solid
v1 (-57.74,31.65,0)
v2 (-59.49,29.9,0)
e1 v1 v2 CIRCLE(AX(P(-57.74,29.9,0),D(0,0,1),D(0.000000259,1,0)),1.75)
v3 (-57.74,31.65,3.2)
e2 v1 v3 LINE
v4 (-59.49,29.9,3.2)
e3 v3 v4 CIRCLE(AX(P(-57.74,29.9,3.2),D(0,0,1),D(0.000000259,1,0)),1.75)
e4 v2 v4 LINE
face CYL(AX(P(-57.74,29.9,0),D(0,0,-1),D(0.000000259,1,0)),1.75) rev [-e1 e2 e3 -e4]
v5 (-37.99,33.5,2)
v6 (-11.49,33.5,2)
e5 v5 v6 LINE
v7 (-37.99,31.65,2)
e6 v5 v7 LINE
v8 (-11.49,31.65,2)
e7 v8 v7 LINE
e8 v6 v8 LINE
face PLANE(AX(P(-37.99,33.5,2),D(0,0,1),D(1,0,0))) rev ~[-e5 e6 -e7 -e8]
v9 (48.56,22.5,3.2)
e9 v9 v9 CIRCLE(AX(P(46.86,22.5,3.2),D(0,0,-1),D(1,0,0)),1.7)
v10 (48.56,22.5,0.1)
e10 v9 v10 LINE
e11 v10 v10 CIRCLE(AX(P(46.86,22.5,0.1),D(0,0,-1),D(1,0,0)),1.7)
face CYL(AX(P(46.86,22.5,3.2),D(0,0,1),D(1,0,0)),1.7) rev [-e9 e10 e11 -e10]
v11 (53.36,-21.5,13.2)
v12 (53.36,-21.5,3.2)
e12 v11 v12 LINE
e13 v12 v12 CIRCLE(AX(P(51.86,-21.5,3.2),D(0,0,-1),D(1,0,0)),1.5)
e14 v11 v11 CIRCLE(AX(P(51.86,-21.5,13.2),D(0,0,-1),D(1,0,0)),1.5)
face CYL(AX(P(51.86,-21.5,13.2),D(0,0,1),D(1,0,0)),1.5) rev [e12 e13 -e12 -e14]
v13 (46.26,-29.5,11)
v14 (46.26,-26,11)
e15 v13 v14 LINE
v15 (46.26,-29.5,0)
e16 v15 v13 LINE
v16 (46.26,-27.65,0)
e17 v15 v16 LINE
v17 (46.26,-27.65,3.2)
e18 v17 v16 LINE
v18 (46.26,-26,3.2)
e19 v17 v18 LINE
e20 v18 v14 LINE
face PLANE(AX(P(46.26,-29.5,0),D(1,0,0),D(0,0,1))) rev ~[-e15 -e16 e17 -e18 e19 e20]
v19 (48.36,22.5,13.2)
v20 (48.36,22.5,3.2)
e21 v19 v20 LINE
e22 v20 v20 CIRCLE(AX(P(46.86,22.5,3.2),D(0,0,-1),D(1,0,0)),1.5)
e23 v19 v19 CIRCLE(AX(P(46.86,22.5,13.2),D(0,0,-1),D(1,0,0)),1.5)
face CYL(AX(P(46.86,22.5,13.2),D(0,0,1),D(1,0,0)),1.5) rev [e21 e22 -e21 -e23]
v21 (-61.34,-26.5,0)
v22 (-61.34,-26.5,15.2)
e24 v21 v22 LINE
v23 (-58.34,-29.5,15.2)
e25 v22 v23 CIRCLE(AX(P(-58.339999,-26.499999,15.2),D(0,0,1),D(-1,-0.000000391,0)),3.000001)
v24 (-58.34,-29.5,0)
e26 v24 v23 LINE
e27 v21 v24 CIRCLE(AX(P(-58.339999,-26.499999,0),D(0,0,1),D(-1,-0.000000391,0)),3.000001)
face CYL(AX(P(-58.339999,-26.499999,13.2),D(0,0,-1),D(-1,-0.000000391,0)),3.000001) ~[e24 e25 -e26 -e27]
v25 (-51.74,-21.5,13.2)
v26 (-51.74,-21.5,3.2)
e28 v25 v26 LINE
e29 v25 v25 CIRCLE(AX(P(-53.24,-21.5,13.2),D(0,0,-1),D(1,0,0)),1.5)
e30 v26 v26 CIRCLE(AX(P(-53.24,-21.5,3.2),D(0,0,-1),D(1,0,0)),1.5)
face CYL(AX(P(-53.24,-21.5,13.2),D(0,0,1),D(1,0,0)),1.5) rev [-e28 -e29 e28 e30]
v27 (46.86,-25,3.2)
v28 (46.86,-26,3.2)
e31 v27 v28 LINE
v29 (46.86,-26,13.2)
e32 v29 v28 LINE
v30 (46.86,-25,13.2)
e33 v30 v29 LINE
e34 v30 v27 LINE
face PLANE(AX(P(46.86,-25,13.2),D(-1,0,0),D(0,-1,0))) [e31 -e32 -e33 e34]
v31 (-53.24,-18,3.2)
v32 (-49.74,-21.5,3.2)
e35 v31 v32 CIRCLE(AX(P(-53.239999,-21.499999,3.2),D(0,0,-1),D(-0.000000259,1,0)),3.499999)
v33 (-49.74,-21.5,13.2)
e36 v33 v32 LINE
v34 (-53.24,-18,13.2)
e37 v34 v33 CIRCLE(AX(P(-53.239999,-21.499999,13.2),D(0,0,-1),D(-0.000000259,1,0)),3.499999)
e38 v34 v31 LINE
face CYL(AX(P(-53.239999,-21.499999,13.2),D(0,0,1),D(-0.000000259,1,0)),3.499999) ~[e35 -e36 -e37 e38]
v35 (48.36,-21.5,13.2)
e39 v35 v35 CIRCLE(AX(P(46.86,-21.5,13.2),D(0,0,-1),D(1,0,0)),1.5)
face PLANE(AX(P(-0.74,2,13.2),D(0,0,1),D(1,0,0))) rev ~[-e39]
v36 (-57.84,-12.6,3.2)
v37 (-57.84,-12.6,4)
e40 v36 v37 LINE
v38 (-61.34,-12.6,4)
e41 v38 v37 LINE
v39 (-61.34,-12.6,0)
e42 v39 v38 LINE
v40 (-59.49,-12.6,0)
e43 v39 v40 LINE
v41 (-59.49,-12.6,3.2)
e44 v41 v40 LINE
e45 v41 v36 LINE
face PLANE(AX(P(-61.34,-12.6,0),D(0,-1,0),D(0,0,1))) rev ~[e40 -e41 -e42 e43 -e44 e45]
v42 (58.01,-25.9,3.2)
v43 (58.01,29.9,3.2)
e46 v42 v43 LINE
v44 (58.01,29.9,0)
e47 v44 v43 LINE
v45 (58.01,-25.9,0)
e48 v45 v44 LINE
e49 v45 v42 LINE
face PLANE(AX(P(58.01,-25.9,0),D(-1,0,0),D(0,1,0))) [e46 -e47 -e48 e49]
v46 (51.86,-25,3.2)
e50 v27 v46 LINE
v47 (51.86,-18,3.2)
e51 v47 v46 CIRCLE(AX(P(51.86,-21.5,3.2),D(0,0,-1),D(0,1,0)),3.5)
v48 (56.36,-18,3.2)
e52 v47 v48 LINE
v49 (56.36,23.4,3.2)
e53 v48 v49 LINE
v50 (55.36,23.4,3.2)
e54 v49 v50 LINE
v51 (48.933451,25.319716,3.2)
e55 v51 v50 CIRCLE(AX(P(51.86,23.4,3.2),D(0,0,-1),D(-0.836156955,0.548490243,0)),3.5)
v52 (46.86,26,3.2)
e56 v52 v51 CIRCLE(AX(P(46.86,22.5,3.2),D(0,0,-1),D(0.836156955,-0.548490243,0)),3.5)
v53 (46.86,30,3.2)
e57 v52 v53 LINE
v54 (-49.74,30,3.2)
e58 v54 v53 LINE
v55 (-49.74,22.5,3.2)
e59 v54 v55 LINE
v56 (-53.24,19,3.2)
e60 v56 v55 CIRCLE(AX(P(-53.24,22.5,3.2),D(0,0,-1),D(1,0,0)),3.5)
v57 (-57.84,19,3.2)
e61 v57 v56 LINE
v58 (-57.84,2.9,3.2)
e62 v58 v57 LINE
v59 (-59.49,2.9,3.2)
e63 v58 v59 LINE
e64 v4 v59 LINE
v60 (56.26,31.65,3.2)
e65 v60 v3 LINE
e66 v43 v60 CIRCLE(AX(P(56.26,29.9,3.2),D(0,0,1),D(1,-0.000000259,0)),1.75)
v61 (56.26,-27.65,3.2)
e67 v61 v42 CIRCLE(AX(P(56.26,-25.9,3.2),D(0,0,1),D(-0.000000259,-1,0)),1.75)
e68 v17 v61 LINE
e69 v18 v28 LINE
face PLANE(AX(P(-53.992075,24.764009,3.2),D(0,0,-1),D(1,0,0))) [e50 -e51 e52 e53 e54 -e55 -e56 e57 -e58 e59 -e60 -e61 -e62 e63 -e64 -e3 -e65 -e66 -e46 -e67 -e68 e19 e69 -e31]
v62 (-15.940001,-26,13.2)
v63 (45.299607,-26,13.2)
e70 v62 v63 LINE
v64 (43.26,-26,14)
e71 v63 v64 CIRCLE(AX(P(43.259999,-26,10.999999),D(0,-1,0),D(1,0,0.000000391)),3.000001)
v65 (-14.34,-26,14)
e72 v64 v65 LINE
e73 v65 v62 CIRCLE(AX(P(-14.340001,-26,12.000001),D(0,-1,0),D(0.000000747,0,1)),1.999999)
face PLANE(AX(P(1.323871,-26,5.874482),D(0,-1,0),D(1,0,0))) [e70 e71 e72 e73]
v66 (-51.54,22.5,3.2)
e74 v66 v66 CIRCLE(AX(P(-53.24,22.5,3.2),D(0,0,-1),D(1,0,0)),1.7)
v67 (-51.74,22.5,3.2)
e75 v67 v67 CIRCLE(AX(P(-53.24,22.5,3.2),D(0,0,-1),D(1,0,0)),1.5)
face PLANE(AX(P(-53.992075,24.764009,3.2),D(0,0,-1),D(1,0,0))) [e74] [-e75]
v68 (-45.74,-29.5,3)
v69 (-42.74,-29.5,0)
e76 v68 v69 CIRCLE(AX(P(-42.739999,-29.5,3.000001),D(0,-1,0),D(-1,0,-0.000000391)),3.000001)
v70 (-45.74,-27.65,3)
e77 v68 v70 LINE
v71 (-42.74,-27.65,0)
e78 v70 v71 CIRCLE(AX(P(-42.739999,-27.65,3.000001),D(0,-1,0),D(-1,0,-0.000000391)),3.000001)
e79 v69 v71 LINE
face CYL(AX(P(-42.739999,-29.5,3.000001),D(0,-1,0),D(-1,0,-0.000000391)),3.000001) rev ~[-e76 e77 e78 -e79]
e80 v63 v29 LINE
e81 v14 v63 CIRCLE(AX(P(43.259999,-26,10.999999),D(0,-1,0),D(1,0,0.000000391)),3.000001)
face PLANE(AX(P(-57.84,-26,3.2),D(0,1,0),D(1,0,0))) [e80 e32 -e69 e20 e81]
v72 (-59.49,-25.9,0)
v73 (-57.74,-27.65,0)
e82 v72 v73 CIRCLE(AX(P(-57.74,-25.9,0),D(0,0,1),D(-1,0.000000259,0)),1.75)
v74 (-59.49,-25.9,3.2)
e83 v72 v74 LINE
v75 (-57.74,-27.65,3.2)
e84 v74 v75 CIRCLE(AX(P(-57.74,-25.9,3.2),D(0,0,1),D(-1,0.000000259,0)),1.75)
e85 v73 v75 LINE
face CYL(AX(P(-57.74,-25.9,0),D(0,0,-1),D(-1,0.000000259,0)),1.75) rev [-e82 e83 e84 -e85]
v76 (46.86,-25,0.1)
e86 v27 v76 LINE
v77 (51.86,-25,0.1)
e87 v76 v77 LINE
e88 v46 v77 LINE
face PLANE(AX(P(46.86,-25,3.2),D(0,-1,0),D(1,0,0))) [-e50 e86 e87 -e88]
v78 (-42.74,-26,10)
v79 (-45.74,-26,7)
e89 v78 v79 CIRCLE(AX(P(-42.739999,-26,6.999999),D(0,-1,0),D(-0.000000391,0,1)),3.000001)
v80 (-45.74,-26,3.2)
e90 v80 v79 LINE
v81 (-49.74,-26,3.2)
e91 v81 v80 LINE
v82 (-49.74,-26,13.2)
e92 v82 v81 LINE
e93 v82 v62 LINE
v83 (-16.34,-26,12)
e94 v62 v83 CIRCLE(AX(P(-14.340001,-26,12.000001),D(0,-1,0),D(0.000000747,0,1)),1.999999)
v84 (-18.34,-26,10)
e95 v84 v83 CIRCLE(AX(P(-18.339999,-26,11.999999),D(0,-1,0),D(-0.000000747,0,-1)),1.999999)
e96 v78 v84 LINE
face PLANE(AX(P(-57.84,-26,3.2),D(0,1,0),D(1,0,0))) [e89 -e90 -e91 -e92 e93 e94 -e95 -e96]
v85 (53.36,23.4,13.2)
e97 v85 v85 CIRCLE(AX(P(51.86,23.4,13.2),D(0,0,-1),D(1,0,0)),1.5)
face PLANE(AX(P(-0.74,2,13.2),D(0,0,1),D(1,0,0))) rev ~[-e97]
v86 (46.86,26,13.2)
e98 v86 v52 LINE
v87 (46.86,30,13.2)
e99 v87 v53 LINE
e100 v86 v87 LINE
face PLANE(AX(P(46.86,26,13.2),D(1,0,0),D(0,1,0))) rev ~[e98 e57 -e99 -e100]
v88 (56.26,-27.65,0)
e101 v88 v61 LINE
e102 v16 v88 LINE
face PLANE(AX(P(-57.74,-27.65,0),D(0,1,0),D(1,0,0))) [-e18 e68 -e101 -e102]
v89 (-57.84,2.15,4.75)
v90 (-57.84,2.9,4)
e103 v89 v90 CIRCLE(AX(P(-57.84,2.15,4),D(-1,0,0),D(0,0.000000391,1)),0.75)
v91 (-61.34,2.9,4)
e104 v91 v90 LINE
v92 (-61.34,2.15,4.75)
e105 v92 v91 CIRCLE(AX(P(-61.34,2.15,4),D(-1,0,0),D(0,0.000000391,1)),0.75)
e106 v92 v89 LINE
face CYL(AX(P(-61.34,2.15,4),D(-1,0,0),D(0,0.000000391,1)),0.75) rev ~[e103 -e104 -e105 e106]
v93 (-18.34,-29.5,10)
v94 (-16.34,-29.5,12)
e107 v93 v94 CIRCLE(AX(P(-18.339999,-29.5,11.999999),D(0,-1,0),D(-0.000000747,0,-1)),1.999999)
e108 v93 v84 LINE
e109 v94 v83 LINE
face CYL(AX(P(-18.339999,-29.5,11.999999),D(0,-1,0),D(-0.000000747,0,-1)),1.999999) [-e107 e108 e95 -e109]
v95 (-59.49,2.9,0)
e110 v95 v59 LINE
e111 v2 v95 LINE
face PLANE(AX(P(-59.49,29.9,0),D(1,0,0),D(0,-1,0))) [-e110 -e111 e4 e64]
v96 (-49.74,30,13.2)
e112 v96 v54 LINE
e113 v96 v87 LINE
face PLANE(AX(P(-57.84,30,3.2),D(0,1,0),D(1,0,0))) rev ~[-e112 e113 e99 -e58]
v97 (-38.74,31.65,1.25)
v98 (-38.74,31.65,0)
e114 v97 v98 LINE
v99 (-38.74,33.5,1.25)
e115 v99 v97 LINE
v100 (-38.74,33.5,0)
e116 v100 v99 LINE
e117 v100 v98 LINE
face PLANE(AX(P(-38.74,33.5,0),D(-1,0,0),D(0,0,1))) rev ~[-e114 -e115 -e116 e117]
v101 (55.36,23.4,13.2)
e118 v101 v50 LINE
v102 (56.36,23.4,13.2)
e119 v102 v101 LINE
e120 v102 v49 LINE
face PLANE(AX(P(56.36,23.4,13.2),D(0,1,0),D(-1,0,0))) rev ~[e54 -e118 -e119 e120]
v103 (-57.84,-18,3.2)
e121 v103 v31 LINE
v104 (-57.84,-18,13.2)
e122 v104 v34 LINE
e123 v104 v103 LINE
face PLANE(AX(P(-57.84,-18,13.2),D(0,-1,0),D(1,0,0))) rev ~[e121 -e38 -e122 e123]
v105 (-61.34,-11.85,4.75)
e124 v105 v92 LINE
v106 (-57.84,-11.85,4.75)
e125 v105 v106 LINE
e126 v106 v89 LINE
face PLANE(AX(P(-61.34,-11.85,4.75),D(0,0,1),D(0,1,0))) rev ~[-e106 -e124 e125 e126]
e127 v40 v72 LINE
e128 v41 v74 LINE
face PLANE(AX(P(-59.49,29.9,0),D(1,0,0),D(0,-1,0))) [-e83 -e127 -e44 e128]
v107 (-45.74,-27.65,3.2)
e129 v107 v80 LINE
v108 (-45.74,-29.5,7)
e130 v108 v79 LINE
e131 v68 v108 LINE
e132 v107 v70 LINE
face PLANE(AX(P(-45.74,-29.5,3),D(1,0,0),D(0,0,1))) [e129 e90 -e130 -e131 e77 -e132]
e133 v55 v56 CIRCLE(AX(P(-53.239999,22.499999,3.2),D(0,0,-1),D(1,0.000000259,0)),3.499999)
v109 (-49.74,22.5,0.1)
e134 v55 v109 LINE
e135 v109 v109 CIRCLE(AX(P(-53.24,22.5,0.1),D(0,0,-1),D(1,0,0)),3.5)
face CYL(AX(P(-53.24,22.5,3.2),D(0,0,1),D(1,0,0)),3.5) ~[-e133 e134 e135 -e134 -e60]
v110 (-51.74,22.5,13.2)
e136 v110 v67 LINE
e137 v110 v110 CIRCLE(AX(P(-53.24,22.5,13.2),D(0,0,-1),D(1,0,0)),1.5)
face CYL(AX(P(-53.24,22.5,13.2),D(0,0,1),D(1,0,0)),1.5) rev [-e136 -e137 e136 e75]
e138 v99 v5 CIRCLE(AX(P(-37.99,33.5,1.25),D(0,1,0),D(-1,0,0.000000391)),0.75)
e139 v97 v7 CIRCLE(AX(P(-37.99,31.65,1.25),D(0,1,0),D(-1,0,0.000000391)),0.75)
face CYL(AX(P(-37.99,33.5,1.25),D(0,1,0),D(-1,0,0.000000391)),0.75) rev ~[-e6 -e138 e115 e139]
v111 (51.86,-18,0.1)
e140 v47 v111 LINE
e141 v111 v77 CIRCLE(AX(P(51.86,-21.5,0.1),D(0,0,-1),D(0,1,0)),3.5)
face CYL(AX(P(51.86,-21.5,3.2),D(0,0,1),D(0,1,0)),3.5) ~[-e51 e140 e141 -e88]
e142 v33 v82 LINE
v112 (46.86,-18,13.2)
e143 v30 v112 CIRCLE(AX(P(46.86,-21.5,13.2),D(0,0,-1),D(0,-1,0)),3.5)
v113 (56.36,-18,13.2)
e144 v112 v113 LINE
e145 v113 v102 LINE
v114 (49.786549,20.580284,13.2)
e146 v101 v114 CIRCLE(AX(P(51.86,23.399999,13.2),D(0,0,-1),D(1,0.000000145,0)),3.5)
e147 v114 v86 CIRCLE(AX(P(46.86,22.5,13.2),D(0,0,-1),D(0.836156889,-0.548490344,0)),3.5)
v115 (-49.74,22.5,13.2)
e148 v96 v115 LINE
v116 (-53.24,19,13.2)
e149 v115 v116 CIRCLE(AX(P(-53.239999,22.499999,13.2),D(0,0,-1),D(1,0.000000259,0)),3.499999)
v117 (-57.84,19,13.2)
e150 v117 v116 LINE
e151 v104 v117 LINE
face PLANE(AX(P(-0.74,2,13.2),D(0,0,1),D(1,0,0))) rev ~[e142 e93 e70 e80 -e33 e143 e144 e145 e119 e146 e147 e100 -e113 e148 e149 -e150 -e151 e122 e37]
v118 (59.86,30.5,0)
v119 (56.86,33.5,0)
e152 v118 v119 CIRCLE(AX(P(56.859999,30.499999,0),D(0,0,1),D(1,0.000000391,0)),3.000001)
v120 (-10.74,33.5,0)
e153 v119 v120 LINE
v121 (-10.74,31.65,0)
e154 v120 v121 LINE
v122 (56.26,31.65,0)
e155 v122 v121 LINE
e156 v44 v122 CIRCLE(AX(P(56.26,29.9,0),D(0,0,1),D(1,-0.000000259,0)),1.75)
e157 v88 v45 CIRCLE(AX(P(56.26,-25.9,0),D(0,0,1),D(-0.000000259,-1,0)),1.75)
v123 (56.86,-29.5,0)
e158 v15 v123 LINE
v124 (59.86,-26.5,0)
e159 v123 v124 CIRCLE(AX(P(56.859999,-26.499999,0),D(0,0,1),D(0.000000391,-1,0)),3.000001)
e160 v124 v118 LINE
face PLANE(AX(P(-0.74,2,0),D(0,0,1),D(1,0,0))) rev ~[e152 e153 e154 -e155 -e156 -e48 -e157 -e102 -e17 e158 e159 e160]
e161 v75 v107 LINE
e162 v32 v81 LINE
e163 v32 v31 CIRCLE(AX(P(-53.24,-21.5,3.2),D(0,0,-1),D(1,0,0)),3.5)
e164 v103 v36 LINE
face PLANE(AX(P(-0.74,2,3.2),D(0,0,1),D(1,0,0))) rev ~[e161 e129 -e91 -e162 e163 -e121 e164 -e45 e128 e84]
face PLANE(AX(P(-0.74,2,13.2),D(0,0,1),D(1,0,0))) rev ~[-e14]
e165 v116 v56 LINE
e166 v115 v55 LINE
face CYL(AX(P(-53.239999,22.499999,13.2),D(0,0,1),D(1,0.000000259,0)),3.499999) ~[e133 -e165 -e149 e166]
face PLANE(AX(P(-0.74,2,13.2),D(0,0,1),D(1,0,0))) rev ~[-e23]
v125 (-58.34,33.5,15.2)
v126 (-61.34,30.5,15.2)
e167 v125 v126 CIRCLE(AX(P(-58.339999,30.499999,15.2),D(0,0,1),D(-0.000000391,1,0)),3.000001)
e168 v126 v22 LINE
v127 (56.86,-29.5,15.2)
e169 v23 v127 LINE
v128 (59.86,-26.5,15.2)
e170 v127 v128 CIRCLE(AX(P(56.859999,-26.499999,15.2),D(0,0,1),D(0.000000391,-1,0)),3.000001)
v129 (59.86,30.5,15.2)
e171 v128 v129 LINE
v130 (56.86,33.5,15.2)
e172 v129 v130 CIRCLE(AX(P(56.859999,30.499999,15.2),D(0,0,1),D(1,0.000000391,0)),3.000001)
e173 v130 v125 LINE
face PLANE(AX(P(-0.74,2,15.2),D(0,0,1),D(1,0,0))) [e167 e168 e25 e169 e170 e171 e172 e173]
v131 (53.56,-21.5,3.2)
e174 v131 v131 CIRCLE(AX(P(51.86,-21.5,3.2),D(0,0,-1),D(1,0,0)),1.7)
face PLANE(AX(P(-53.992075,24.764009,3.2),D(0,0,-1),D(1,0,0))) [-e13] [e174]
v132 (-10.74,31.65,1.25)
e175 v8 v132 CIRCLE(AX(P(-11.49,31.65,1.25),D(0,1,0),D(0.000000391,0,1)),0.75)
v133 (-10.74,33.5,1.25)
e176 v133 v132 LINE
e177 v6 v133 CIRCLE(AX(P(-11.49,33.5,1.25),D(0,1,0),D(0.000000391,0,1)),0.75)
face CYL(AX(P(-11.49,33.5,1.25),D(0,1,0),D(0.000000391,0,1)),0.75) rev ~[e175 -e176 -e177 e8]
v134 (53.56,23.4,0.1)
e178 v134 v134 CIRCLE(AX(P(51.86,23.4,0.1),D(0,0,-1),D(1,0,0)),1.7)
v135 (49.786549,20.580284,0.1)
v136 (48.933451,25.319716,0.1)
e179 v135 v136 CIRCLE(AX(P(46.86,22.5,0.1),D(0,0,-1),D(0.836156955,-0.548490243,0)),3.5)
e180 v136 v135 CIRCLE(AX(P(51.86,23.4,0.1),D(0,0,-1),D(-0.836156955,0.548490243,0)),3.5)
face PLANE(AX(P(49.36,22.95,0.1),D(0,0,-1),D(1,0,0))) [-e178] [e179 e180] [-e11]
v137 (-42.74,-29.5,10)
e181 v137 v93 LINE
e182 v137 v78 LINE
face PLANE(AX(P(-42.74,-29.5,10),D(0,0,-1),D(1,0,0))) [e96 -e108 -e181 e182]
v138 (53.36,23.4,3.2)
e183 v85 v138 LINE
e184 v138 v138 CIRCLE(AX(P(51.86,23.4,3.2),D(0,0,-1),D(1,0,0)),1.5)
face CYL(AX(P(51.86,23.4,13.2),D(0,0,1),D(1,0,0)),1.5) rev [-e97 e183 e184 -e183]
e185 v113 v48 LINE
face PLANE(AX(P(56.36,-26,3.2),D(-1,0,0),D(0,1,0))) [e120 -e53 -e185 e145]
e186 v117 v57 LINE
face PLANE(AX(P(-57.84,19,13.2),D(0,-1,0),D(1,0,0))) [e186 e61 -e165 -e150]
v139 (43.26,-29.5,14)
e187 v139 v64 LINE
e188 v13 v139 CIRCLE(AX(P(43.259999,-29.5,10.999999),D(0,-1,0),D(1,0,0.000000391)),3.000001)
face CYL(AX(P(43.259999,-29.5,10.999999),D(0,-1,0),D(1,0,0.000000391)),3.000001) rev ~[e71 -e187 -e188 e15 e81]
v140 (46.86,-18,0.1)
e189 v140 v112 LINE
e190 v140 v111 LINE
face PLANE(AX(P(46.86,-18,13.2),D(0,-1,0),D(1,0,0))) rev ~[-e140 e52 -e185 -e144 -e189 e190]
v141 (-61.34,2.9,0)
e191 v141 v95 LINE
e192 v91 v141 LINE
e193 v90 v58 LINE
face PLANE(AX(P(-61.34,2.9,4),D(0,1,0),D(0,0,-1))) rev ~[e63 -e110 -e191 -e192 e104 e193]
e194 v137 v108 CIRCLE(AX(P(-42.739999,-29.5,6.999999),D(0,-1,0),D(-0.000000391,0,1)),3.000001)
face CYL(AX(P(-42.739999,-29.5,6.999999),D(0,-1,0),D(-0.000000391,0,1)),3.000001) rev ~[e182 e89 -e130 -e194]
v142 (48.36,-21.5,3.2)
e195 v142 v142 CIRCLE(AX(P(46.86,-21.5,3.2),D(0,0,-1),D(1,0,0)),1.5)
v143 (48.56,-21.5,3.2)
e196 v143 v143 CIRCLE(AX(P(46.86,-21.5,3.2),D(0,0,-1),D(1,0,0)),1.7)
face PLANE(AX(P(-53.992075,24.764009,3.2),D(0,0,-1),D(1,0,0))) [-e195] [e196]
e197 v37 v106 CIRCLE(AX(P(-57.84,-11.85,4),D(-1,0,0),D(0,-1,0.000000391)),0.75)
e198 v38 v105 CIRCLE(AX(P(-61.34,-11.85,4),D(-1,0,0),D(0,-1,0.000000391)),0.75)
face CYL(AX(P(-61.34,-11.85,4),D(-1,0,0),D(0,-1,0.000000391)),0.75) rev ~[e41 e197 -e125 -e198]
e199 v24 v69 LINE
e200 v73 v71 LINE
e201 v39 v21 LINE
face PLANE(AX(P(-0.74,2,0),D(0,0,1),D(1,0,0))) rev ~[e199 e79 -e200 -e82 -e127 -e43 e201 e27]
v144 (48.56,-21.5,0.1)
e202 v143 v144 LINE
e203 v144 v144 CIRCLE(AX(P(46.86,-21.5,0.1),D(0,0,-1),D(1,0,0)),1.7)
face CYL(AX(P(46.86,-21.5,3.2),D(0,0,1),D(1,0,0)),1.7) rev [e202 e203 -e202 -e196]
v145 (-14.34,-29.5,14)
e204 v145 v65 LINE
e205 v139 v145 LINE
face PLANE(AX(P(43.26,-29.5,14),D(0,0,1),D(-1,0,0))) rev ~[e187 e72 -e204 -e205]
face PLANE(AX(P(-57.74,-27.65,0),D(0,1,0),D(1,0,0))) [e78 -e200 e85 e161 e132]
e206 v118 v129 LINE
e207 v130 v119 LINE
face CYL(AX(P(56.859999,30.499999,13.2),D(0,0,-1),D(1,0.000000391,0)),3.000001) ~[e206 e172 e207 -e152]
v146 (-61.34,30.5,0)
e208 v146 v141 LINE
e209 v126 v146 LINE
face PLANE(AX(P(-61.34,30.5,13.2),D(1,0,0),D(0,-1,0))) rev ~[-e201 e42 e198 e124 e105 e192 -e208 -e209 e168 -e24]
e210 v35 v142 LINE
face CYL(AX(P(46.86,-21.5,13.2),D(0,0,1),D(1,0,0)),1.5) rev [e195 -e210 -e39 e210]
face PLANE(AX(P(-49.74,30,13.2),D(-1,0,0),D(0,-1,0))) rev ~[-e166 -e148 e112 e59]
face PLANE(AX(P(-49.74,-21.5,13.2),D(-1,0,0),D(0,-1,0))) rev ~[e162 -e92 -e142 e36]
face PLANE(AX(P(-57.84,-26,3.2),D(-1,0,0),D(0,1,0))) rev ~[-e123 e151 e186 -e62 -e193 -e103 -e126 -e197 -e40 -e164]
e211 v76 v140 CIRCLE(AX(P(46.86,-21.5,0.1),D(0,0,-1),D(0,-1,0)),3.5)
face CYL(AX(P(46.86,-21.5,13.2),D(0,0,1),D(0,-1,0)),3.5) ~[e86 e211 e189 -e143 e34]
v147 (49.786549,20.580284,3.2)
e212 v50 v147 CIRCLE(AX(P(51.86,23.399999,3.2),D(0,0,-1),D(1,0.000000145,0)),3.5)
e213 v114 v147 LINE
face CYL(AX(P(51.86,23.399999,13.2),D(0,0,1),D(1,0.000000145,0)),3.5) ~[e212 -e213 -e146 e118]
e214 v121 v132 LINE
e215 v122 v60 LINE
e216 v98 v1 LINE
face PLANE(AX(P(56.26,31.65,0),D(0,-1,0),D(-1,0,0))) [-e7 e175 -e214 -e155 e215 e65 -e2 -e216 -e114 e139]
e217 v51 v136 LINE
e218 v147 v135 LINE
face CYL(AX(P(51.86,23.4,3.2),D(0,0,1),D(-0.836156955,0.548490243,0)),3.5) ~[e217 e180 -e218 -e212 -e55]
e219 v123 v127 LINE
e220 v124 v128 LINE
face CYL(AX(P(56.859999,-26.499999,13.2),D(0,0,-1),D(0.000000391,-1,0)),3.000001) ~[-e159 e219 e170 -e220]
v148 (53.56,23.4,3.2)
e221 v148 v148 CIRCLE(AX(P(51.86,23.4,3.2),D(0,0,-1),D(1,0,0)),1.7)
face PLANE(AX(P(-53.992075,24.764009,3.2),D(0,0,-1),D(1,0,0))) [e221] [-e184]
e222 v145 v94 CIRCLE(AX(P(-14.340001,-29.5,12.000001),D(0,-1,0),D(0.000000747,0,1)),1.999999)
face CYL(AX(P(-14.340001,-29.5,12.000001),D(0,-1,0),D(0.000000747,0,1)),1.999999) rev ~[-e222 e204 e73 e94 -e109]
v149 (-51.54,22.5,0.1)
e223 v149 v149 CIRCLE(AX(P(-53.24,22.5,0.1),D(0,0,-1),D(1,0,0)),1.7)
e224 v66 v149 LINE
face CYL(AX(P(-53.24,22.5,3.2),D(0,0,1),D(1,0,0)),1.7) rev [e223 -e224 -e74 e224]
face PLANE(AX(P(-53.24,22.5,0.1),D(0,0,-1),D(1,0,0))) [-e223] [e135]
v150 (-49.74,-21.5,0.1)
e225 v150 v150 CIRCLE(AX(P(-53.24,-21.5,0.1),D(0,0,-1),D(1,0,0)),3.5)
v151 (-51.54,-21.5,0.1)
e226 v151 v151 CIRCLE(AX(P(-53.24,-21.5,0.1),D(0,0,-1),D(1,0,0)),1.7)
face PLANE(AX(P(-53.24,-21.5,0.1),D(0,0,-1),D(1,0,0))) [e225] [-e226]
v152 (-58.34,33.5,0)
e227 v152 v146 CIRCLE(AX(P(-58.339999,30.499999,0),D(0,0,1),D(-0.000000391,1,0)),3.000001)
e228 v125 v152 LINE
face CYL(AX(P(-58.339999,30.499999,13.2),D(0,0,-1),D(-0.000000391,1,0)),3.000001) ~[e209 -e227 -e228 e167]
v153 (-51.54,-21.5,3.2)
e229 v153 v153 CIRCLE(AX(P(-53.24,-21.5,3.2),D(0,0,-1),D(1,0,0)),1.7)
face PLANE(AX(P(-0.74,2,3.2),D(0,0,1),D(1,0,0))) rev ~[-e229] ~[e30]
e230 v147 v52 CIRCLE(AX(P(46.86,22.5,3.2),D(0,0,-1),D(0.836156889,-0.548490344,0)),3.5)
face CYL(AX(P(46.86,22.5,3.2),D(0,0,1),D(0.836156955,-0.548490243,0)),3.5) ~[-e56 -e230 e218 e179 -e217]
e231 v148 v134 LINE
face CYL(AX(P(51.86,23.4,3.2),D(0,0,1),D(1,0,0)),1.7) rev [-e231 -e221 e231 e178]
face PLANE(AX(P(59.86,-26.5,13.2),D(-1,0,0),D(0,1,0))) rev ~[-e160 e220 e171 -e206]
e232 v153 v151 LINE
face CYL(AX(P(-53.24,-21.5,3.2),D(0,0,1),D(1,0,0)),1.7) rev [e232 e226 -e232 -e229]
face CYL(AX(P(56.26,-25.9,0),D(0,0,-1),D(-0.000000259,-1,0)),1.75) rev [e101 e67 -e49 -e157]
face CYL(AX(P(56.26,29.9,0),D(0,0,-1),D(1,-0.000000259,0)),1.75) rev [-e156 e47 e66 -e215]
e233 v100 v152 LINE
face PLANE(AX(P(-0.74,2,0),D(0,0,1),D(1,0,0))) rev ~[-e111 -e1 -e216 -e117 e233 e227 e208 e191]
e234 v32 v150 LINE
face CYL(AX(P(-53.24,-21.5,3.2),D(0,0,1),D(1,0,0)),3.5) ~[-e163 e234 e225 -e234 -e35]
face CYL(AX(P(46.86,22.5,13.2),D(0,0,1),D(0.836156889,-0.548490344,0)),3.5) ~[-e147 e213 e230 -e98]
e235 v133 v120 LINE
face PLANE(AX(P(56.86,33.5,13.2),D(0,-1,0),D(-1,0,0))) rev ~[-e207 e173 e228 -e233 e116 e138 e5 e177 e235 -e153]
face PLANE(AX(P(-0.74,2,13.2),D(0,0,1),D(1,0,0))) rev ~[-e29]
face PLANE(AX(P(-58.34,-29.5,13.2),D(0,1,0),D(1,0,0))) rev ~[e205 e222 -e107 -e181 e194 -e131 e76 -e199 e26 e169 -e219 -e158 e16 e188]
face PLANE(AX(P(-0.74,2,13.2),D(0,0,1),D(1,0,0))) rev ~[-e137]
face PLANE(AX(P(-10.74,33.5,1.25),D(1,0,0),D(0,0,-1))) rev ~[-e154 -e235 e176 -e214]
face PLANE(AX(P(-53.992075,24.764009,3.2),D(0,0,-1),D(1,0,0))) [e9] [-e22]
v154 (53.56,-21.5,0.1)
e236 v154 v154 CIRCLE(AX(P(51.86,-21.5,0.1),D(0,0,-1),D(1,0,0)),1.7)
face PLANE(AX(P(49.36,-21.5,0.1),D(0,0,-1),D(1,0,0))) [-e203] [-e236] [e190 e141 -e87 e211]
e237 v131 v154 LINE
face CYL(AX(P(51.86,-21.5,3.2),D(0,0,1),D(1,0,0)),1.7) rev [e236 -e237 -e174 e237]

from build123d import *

# Parameters (mm, degrees)
PAD006_DEPTH    = 3.2
SKETCH009_W     = 114.2
SKETCH009_H     = 56
PAD007_DEPTH    = 10
PAD008_DEPTH    = 2
POCKET002_DEPTH = 5
POCKET003_DEPTH = 5
POCKET004_DEPTH = 3.5
SKETCH014_R     = 1.5
PAD009_DEPTH    = 10
SKETCH015_R     = 3.5
SKETCH015_R_2   = 1.7
PAD010_DEPTH    = 3.1


with BuildPart() as part:
    # Sketch008 → Pad006 (new body)
    with BuildSketch(Plane.XY):
        with BuildLine():
            Line((56.86, 33.5), (-58.34, 33.5))
            ThreePointArc((-58.34, 33.5), (-60.46132, 32.62132), (-61.34, 30.5))
            Line((-61.34, 30.5), (-61.34, -26.5))
            ThreePointArc((-61.34, -26.5), (-60.46132, -28.62132), (-58.34, -29.5))
            Line((-58.34, -29.5), (56.86, -29.5))
            ThreePointArc((56.86, -29.5), (58.98132, -28.62132), (59.86, -26.5))
            Line((59.86, -26.5), (59.86, 30.5))
            ThreePointArc((59.86, 30.5), (58.98132, 32.62132), (56.86, 33.5))
        make_face()
        with BuildLine():
            Line((56.26, 31.65), (-57.74, 31.65))
            ThreePointArc((-57.74, 31.65), (-58.977437, 31.137437), (-59.49, 29.9))
            Line((-59.49, 29.9), (-59.49, -25.9))
            ThreePointArc((-59.49, -25.9), (-58.977437, -27.137437), (-57.74, -27.65))
            Line((-57.74, -27.65), (56.26, -27.65))
            ThreePointArc((56.26, -27.65), (57.497437, -27.137437), (58.01, -25.9))
            Line((58.01, -25.9), (58.01, 29.9))
            ThreePointArc((58.01, 29.9), (57.497437, 31.137437), (56.26, 31.65))
        make_face(mode=Mode.SUBTRACT)
    extrude(amount=PAD006_DEPTH)

    # Sketch009 (on Face18 of Pad006) → Pad007 (join)
    with BuildSketch(Plane.XY.offset(3.2)):
        with BuildLine():
            Line((-61.34, 30.5), (-61.34, -26.5))
            ThreePointArc((-61.34, -26.5), (-60.46132, -28.62132), (-58.34, -29.5))
            Line((-58.34, -29.5), (56.86, -29.5))
            ThreePointArc((56.86, -29.5), (58.98132, -28.62132), (59.86, -26.5))
            Line((59.86, -26.5), (59.86, 30.5))
            ThreePointArc((59.86, 30.5), (58.98132, 32.62132), (56.86, 33.5))
            Line((56.86, 33.5), (-58.34, 33.5))
            ThreePointArc((-58.34, 33.5), (-60.46132, 32.62132), (-61.34, 30.5))
        make_face()
        with Locations((-0.74, 2)):
            Rectangle(SKETCH009_W, SKETCH009_H, mode=Mode.SUBTRACT)
    extrude(amount=PAD007_DEPTH)

    # Sketch010 (on Face12 of Pad007) → Pad008 (join)
    with BuildSketch(Plane.XY.offset(13.2)):
        with BuildLine():
            Line((-61.34, 30.5), (-61.34, -26.5))
            ThreePointArc((-61.34, -26.5), (-60.46132, -28.62132), (-58.34, -29.5))
            Line((-58.34, -29.5), (56.86, -29.5))
            ThreePointArc((56.86, -29.5), (58.98132, -28.62132), (59.86, -26.5))
            Line((59.86, -26.5), (59.86, 30.5))
            ThreePointArc((59.86, 30.5), (58.98132, 32.62132), (56.86, 33.5))
            Line((56.86, 33.5), (-58.34, 33.5))
            ThreePointArc((-58.34, 33.5), (-60.46132, 32.62132), (-61.34, 30.5))
        make_face()
    extrude(amount=PAD008_DEPTH)

    # Sketch011 (on Face18 of Pad008) → Pocket002 (cut)
    with BuildSketch(Plane(origin=(-61.34, 0, 0), x_dir=(0, -1, 0), z_dir=(-1, 0, 0))):
        with BuildLine():
            Line((-2.9, 0), (12.6, 0))
            Line((12.6, 0), (12.6, 4))
            ThreePointArc((12.6, 4), (12.38033, 4.53033), (11.85, 4.75))
            Line((11.85, 4.75), (-2.15, 4.75))
            ThreePointArc((-2.15, 4.75), (-2.68033, 4.53033), (-2.9, 4))
            Line((-2.9, 4), (-2.9, 0))
        make_face()
    extrude(amount=-POCKET002_DEPTH, mode=Mode.SUBTRACT)

    # Sketch012 (on Face20 of Pocket002) → Pocket003 (cut)
    with BuildSketch(Plane(origin=(0, 33.5, 0), x_dir=(-1, 0, 0), z_dir=(0, 1, 0))):
        with BuildLine():
            Line((10.74, 0), (38.74, 0))
            Line((38.74, 0), (38.74, 1.25))
            ThreePointArc((38.74, 1.25), (38.52033, 1.78033), (37.99, 2))
            Line((37.99, 2), (11.49, 2))
            ThreePointArc((11.49, 2), (10.95967, 1.78033), (10.74, 1.25))
            Line((10.74, 1.25), (10.74, 0))
        make_face()
    extrude(amount=-POCKET003_DEPTH, mode=Mode.SUBTRACT)

    # Sketch013 (on Face4 of Pocket003) → Pocket004 (cut)
    with BuildSketch(Plane.XZ.offset(29.5)):
        with BuildLine():
            ThreePointArc((-45.74, 3), (-44.86132, 0.87868), (-42.74, 0))
            Line((-16.34, 0), (-42.74, 0))
            ThreePointArc((-16.34, 0), (-15.754214, -1.414214), (-14.34, -2))
            Line((25.66, -2), (-14.34, -2))
            ThreePointArc((25.66, -2), (27.074214, -1.414214), (27.66, 0))
            Line((27.66, 0), (46.26, 0))
            Line((46.26, 0), (46.26, 3))
            Line((46.26, 11), (46.26, 3))
            ThreePointArc((46.26, 11), (45.38132, 13.12132), (43.26, 14))
            Line((43.26, 14), (-14.34, 14))
            ThreePointArc((-14.34, 14), (-15.754214, 13.414214), (-16.34, 12))
            ThreePointArc((-18.34, 10), (-16.925786, 10.585786), (-16.34, 12))
            Line((-42.74, 10), (-18.34, 10))
            ThreePointArc((-42.74, 10), (-44.86132, 9.12132), (-45.74, 7))
            Line((-45.74, 3), (-45.74, 7))
        make_face()
    extrude(amount=-POCKET004_DEPTH, mode=Mode.SUBTRACT)

    # Sketch014 (on Face43 of Pocket004) → Pad009 (join)
    with BuildSketch(Plane(origin=(0, 0, 13.2), x_dir=(1, 0, 0), z_dir=(0, 0, -1))):
        with BuildLine():
            ThreePointArc((-49.74, -22.5), (-50.765126, -20.025126), (-53.24, -19))
            Line((-57.84, -19), (-53.24, -19))
            Line((-57.84, -30), (-57.84, -19))
            Line((-57.84, -30), (-49.74, -30))
            Line((-49.74, -30), (-49.74, -22.5))
        make_face()
        with Locations((-53.24, -22.5)):
            Circle(SKETCH014_R, mode=Mode.SUBTRACT)
        with BuildLine():
            Line((-57.84, 26), (-57.84, 18))
            Line((-57.84, 18), (-53.24, 18))
            ThreePointArc((-53.24, 18), (-50.765126, 19.025126), (-49.74, 21.5))
            Line((-49.74, 21.5), (-49.74, 26))
            Line((-49.74, 26), (-57.84, 26))
        make_face()
        with Locations((-53.24, 21.5)):
            Circle(SKETCH014_R, mode=Mode.SUBTRACT)
        with BuildLine():
            Line((56.36, 26), (46.86, 26))
            Line((46.86, 25), (46.86, 26))
            ThreePointArc((46.86, 25), (43.36, 21.5), (46.86, 18))
            Line((46.86, 18), (56.36, 18))
            Line((56.36, 18), (56.36, 26))
        make_face()
        with Locations((46.86, 21.5)):
            Circle(SKETCH014_R, mode=Mode.SUBTRACT)
        with Locations((51.86, 21.5)):
            Circle(SKETCH014_R, mode=Mode.SUBTRACT)
        with BuildLine():
            Line((56.36, -30), (56.36, -23.4))
            Line((56.36, -23.4), (55.36, -23.4))
            ThreePointArc((55.36, -23.4), (53.440019, -20.276934), (49.786549, -20.580284))
            ThreePointArc((49.786549, -20.580284), (43.780308, -20.837022), (46.86, -26))
            Line((46.86, -26), (46.86, -30))
            Line((46.86, -30), (56.36, -30))
        make_face()
        with Locations((46.86, -22.5)):
            Circle(SKETCH014_R, mode=Mode.SUBTRACT)
        with Locations((51.86, -23.4)):
            Circle(SKETCH014_R, mode=Mode.SUBTRACT)
    extrude(amount=PAD009_DEPTH)

    # Sketch015 (on Face62 of Pad009) → Pad010 (join)
    with BuildSketch(Plane(origin=(0, 0, 3.2), x_dir=(1, 0, 0), z_dir=(0, 0, -1))):
        with Locations((-53.24, -22.5)):
            Circle(SKETCH015_R)
        with Locations((-53.24, -22.5)):
            Circle(SKETCH015_R_2, mode=Mode.SUBTRACT)
        with Locations((-53.24, 21.5)):
            Circle(SKETCH015_R)
        with Locations((-53.24, 21.5)):
            Circle(SKETCH015_R_2, mode=Mode.SUBTRACT)
        with BuildLine():
            ThreePointArc((46.86, 25), (43.36, 21.5), (46.86, 18))
            Line((46.86, 18), (51.86, 18))
            ThreePointArc((51.86, 18), (55.36, 21.5), (51.86, 25))
            Line((46.86, 25), (51.86, 25))
        make_face()
        with Locations((46.86, 21.5)):
            Circle(SKETCH015_R_2, mode=Mode.SUBTRACT)
        with Locations((51.86, 21.5)):
            Circle(SKETCH015_R_2, mode=Mode.SUBTRACT)
        with BuildLine():
            ThreePointArc((49.786549, -20.580284), (43.415358, -21.879965), (48.933451, -25.319716))
            ThreePointArc((48.933451, -25.319716), (55.304642, -24.020035), (49.786549, -20.580284))
        make_face()
        with Locations((51.86, -23.4)):
            Circle(SKETCH015_R_2, mode=Mode.SUBTRACT)
        with Locations((46.86, -22.5)):
            Circle(SKETCH015_R_2, mode=Mode.SUBTRACT)
    extrude(amount=PAD010_DEPTH)


solid = part.part
